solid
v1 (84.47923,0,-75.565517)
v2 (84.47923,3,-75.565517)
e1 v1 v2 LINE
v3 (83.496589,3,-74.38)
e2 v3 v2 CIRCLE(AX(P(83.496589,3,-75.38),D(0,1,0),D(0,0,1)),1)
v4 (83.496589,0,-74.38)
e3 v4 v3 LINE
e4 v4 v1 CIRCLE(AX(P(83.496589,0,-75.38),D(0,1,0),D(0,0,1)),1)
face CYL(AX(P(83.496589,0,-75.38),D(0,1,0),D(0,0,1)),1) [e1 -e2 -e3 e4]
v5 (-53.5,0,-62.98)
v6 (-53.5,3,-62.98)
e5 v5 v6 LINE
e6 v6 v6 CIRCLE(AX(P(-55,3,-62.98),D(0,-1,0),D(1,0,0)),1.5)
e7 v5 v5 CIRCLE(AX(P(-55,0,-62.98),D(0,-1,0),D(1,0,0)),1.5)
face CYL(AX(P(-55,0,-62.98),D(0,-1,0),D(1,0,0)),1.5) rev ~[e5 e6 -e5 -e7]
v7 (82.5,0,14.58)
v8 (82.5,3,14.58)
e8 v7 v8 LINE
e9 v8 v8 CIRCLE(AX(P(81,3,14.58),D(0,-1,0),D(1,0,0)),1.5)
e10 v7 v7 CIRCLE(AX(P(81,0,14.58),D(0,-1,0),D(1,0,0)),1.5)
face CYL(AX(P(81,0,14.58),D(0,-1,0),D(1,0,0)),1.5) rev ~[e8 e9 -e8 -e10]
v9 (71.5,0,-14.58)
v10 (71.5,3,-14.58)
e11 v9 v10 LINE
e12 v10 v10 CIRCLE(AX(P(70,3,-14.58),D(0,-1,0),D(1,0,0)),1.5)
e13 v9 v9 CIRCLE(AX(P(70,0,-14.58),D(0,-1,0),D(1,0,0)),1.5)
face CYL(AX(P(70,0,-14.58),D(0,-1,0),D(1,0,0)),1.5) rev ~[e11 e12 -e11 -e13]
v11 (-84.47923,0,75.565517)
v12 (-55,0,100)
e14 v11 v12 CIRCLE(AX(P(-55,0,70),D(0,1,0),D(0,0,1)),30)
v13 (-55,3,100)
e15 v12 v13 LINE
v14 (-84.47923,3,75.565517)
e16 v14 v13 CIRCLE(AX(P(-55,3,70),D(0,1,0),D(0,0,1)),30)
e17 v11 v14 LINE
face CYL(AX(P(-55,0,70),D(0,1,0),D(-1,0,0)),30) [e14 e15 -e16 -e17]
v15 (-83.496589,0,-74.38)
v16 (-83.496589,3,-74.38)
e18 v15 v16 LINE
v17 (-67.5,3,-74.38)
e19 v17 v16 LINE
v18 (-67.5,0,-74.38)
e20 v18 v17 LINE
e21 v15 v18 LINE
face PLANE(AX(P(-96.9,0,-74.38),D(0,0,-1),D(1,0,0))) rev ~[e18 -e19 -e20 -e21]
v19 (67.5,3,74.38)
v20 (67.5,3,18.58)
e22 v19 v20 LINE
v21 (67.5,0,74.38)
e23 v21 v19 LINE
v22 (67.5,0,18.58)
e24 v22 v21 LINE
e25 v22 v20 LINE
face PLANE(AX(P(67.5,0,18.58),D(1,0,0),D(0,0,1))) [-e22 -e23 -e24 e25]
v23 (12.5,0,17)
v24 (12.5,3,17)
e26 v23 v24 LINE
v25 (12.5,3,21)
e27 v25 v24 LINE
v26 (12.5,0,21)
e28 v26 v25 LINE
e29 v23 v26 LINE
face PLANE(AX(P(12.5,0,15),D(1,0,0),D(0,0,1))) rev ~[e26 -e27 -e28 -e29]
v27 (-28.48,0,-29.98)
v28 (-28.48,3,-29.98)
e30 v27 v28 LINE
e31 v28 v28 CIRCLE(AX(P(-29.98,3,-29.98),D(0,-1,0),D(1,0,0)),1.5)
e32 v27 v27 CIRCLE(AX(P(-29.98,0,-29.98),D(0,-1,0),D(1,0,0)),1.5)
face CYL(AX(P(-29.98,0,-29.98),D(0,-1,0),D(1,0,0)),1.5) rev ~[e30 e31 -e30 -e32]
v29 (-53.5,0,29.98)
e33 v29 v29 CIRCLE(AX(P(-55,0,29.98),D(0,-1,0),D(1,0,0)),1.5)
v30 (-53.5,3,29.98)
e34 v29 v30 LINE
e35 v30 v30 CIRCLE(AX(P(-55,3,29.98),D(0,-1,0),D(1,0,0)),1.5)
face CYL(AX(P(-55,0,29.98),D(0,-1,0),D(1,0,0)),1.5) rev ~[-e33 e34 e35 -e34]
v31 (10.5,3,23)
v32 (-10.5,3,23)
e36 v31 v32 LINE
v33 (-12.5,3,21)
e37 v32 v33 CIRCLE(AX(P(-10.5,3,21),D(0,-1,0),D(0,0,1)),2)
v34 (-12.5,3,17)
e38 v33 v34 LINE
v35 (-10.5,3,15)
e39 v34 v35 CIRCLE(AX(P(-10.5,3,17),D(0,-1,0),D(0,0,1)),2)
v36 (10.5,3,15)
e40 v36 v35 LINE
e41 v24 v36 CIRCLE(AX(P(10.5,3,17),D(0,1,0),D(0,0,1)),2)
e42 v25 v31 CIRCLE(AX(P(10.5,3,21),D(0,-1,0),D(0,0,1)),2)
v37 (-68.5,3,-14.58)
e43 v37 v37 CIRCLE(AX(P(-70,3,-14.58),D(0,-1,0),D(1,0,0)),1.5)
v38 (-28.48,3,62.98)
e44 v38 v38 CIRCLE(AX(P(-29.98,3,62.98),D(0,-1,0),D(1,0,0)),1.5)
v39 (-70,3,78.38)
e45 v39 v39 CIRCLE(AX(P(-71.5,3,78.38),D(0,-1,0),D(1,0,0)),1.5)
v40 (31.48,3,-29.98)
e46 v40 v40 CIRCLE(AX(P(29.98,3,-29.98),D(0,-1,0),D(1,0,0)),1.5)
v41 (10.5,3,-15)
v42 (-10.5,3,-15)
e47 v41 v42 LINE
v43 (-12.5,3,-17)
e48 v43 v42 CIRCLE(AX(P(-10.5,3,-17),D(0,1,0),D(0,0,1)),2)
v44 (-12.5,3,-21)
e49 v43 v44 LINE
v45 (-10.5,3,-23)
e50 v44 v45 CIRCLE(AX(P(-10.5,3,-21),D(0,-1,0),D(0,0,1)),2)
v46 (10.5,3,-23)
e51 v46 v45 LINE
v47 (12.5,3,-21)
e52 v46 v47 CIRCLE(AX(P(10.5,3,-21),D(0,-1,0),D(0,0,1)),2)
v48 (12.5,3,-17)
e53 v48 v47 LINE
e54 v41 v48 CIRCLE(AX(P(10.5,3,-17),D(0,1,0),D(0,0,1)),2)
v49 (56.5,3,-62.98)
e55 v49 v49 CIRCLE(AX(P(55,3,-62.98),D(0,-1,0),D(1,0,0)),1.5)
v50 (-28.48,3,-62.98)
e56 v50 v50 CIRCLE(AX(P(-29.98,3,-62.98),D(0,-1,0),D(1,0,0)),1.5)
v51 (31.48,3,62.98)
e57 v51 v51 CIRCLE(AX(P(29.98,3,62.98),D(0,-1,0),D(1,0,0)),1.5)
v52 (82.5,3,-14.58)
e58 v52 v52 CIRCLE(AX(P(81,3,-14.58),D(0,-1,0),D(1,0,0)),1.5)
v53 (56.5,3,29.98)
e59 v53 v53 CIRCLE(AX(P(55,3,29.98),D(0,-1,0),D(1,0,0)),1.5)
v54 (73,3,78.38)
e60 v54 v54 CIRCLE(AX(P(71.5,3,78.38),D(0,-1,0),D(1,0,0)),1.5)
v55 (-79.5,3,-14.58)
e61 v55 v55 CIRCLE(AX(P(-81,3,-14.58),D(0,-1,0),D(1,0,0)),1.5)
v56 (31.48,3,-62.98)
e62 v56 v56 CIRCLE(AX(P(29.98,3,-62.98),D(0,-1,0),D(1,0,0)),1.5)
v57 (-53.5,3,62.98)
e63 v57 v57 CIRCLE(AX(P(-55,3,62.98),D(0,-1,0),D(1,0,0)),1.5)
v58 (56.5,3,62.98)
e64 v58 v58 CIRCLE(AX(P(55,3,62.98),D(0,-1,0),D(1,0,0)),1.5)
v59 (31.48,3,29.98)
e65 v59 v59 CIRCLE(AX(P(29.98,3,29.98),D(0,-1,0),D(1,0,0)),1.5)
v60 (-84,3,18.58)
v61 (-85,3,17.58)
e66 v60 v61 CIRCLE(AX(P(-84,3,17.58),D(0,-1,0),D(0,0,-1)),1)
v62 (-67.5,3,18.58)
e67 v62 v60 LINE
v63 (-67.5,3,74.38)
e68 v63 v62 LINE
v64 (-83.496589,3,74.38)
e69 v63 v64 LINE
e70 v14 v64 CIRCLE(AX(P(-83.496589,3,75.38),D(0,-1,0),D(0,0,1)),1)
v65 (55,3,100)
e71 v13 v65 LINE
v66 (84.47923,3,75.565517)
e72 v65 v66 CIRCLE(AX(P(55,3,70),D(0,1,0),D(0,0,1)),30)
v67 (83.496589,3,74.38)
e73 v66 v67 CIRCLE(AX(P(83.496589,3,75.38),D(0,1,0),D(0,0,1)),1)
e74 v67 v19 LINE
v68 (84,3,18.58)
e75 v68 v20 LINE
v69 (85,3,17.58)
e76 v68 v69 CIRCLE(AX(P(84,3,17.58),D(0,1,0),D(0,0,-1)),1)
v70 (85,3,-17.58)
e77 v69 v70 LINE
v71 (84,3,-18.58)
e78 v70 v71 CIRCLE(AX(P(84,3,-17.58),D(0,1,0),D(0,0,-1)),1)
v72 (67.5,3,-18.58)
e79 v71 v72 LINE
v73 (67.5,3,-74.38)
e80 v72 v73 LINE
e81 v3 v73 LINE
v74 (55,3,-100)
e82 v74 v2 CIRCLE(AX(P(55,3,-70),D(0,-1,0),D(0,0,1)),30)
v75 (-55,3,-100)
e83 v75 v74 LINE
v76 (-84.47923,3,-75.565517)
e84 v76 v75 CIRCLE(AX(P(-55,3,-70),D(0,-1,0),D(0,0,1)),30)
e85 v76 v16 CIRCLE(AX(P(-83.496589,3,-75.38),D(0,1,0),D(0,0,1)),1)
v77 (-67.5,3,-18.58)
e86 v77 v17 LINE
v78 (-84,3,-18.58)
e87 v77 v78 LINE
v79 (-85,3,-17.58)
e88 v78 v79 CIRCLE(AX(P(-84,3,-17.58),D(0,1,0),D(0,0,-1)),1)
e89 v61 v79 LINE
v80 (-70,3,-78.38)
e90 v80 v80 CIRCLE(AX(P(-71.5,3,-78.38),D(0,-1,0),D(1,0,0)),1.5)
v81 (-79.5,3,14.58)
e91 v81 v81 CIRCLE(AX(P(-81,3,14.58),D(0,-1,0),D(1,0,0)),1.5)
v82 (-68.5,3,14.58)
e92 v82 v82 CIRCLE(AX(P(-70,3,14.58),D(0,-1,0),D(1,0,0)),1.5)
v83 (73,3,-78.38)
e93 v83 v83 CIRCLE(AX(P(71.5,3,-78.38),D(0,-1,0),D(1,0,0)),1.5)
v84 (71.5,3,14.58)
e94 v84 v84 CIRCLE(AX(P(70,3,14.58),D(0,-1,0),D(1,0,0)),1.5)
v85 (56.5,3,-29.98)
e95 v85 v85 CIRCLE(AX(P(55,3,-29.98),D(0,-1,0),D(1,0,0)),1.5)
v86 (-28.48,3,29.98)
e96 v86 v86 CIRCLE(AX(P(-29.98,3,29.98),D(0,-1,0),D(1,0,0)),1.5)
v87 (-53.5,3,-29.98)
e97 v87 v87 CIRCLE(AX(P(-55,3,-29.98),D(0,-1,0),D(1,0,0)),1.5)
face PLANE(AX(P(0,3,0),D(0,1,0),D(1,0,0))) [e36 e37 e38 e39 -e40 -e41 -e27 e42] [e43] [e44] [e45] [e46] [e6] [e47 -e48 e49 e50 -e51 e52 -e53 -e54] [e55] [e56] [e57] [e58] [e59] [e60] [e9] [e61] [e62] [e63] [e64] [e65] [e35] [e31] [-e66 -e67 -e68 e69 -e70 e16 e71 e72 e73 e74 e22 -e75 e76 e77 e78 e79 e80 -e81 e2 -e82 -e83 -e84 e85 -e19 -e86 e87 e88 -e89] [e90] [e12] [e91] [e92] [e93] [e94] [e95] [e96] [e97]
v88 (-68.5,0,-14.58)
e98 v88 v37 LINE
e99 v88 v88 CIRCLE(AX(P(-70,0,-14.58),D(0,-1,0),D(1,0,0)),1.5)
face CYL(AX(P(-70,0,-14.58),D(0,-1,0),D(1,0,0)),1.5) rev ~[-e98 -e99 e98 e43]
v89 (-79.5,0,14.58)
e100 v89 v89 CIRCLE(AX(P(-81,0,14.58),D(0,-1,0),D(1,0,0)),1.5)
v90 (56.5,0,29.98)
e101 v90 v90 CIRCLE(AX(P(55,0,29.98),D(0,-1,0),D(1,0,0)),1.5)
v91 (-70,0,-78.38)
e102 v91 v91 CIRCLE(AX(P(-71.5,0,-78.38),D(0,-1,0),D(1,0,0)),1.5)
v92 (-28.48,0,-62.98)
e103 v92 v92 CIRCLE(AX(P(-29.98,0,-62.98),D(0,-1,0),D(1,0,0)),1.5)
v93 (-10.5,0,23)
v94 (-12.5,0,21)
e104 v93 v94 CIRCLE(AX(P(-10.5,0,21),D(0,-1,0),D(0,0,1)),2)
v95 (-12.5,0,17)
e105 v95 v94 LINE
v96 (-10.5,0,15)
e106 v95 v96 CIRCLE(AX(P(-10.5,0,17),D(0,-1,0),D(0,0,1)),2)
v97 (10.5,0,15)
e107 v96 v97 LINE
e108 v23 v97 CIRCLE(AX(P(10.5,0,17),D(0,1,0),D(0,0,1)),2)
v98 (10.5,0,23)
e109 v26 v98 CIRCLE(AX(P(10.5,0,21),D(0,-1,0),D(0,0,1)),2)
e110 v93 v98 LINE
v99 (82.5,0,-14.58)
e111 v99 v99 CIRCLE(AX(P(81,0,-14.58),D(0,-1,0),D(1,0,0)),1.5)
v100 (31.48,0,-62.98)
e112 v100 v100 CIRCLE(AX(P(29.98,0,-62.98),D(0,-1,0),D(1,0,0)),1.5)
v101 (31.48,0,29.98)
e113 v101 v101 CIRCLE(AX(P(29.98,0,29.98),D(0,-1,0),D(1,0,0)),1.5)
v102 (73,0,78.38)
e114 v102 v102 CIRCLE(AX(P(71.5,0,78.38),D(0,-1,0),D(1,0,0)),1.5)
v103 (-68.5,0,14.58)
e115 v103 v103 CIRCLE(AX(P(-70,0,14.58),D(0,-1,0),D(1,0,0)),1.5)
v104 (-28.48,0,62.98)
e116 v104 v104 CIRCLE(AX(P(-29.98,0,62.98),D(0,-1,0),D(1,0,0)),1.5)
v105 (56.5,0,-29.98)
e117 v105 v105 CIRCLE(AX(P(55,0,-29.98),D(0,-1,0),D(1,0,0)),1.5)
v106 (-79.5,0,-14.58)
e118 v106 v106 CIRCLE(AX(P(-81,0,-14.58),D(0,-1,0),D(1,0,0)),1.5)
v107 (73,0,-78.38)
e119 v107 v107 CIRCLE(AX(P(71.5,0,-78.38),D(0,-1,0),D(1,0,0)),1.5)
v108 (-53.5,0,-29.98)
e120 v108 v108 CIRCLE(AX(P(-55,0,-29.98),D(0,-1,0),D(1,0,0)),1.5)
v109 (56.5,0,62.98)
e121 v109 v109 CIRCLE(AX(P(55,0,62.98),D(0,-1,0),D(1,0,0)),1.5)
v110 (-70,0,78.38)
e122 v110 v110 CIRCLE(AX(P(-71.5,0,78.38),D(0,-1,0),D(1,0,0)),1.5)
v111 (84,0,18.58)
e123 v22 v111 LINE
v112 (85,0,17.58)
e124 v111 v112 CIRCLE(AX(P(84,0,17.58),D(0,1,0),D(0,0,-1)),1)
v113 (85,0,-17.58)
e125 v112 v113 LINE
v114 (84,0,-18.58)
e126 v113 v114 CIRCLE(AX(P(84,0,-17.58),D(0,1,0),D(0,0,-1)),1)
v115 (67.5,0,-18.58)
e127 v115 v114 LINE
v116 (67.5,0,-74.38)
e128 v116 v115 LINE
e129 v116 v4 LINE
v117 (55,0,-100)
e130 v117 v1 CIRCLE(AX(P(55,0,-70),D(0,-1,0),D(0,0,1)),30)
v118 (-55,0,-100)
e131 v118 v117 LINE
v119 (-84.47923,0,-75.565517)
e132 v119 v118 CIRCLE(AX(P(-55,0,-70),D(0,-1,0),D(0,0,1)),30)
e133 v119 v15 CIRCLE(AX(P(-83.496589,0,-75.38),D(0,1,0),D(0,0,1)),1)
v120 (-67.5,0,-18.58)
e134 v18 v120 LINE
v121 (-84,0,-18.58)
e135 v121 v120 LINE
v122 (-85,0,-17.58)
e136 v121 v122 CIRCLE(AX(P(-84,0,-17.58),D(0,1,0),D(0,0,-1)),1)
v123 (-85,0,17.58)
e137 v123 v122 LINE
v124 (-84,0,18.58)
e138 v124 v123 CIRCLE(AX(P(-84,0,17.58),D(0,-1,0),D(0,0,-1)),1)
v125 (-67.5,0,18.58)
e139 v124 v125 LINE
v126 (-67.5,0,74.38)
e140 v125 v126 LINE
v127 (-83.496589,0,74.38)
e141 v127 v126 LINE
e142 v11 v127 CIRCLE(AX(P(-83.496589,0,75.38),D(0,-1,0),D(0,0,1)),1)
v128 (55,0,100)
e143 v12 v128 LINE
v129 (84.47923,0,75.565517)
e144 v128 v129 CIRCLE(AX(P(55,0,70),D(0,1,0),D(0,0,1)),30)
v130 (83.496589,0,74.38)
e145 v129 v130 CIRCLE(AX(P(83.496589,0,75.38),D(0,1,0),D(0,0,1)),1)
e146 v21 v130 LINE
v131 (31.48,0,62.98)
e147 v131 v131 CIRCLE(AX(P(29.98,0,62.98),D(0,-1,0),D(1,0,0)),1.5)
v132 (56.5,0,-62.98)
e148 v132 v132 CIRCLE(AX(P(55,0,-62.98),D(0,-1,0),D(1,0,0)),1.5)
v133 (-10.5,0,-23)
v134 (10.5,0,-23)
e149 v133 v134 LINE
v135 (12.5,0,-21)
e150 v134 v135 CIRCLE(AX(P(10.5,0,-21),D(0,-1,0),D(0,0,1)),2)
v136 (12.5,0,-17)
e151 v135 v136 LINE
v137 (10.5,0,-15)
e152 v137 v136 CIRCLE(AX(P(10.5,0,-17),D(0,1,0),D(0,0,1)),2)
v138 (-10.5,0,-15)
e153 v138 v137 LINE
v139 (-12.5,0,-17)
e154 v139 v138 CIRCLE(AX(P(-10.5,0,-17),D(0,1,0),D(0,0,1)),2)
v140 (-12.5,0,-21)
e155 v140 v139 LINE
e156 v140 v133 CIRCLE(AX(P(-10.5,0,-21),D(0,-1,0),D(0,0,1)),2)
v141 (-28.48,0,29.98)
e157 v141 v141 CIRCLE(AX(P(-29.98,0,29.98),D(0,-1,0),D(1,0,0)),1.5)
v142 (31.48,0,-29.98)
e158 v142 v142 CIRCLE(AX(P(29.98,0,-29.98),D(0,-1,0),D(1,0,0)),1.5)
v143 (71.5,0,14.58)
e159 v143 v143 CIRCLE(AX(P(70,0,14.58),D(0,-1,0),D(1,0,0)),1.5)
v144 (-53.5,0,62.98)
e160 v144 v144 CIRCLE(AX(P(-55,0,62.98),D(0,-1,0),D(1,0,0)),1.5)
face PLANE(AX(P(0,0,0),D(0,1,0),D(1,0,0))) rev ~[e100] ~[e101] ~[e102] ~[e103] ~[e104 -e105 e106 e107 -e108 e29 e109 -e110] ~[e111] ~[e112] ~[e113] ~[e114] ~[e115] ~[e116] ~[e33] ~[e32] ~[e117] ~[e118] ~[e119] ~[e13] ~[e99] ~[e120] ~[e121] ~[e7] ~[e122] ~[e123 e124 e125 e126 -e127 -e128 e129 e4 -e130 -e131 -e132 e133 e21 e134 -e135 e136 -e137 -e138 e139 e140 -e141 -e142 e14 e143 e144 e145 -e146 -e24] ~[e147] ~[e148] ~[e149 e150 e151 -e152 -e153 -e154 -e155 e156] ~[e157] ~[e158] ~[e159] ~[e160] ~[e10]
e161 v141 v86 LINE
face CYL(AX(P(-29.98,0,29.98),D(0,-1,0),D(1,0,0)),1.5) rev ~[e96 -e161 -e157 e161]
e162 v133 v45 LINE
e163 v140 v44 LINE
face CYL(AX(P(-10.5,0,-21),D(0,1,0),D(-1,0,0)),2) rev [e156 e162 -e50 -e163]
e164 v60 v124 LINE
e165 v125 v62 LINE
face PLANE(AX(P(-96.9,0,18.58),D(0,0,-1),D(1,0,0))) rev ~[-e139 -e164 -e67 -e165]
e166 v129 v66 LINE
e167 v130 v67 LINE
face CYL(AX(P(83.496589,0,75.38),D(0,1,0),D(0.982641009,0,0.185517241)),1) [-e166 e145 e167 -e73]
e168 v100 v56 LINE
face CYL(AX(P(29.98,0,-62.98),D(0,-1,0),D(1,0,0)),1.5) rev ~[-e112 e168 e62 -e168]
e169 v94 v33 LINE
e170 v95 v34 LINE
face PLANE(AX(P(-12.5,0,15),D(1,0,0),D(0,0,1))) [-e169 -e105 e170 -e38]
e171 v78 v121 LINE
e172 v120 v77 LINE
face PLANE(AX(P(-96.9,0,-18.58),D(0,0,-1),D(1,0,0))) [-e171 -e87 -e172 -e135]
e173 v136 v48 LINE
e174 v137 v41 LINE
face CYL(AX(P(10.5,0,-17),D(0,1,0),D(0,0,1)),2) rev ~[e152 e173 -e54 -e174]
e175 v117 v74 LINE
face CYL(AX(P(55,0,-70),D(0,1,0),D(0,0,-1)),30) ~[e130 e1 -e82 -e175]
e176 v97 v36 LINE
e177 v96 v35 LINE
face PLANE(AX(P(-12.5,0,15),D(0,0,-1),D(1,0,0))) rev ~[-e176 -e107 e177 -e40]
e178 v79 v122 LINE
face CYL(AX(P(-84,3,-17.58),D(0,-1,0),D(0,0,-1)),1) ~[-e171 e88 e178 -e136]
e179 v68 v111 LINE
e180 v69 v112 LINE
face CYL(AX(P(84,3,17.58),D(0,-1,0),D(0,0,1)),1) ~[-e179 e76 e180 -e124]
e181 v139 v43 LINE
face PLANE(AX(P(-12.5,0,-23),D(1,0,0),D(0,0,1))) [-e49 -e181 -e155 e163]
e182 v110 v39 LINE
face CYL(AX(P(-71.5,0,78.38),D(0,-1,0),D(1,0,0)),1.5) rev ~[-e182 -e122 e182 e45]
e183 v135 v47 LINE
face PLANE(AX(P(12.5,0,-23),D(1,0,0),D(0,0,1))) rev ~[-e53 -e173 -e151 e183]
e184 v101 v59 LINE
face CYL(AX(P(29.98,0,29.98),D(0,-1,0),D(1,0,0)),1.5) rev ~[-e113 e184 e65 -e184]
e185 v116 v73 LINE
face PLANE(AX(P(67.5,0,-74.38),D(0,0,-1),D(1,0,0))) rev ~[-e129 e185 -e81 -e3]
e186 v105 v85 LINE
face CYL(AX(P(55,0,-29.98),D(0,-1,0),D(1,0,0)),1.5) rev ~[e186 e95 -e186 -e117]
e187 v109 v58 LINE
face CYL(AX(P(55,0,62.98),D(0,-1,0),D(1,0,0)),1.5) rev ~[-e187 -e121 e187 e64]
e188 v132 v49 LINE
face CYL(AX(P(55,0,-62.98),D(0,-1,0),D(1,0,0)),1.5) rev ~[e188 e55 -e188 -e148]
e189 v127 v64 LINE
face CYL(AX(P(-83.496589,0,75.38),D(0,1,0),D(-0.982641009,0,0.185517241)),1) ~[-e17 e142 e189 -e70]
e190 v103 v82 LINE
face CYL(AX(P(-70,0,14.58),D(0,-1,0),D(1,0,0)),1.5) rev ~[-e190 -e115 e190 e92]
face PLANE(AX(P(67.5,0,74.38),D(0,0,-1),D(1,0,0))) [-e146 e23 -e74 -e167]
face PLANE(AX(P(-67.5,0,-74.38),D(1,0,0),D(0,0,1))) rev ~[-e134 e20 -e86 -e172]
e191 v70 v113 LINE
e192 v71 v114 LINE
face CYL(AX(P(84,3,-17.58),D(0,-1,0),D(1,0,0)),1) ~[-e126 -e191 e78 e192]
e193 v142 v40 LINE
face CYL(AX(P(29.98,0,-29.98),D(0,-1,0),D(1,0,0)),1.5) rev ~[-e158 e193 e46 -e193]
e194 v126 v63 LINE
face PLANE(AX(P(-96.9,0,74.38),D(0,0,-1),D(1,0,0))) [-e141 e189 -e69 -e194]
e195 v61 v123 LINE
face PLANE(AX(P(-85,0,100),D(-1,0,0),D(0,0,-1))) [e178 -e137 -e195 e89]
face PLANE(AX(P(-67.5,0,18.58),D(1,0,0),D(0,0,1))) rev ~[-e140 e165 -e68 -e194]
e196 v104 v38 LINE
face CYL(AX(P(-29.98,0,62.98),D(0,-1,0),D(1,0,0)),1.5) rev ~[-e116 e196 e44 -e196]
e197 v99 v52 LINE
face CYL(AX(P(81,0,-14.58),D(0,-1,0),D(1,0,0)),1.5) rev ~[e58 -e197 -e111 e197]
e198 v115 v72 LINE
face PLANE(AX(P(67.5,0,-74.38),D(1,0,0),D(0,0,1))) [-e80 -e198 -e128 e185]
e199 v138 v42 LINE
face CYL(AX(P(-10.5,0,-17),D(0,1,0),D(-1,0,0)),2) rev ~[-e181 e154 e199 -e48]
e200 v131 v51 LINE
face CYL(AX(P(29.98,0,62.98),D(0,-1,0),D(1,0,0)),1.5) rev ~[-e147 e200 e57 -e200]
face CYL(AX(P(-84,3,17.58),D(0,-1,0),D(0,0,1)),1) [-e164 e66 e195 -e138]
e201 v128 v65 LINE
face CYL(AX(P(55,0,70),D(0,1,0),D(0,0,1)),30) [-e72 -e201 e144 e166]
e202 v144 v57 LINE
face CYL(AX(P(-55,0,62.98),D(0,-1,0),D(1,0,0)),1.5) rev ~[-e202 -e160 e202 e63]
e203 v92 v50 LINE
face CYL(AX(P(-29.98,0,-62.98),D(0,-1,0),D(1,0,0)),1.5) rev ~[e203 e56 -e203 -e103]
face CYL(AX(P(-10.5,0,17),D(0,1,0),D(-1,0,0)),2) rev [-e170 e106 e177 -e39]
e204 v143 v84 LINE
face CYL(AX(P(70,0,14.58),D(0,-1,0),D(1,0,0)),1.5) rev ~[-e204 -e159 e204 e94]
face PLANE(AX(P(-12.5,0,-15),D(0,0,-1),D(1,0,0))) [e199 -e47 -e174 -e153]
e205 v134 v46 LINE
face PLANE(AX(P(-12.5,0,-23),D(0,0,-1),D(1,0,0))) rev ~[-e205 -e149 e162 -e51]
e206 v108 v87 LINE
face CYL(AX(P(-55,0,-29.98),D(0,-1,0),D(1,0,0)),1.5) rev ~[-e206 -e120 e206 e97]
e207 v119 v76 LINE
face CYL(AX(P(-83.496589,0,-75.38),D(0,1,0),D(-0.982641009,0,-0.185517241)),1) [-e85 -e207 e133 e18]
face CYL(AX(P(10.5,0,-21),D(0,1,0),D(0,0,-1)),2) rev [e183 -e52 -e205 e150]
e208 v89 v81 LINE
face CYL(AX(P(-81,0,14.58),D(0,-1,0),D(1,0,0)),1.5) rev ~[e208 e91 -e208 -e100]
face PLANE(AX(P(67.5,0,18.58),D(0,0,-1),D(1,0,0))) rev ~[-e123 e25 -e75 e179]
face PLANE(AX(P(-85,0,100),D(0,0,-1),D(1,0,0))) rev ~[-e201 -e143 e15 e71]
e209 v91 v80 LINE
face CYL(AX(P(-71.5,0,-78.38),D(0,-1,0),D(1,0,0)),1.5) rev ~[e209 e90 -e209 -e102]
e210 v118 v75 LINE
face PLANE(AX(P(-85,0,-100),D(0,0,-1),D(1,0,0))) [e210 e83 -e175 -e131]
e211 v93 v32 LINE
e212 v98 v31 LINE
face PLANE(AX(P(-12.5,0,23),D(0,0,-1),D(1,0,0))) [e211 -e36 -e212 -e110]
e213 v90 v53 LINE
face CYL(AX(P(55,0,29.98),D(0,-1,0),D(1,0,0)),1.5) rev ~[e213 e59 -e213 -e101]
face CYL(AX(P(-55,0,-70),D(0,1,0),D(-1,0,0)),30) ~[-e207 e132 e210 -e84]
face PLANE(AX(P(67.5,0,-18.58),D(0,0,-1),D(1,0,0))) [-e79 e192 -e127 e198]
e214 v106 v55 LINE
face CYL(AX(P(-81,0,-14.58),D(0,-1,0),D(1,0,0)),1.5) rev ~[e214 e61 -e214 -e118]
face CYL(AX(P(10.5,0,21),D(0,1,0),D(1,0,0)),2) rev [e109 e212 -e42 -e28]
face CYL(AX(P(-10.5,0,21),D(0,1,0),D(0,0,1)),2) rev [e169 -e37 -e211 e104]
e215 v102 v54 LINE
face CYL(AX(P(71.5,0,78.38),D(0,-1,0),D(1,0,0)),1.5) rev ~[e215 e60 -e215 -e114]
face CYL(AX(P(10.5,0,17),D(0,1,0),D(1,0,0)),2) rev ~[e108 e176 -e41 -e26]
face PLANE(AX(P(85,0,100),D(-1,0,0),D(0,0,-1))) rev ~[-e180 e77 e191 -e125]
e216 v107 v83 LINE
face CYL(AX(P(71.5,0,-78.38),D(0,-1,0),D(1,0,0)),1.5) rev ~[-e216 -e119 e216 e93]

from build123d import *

# Parameters (mm, degrees)
SKETCH1_W           = 170
SKETCH1_H           = 200
BOSS_EXTRUDE1_DEPTH = 3
SKETCH2_R           = 1.5
CUT_EXTRUDE1_DEPTH  = 43
FILLET1_R           = 30
SKETCH4_W           = 29.4
SKETCH4_H           = 55.8
CUT_EXTRUDE4_DEPTH  = 10
FILLET3_R           = 1
FILLET4_R           = 1
FILLET5_R           = 1
FILLET6_R           = 1
FILLET7_R           = 1
FILLET8_R           = 1
FILLET9_R           = 1
FILLET10_R          = 1
SKETCH5_W           = 25
SKETCH5_H           = 8
CUT_EXTRUDE5_DEPTH  = 10
FILLET11_R          = 2
FILLET12_R          = 2
FILLET13_R          = 2
FILLET14_R          = 2
FILLET15_R          = 2
FILLET16_R          = 2
SKETCH6_R           = 1.5
CUT_EXTRUDE6_DEPTH  = 10
SKETCH7_R           = 1.5
CUT_EXTRUDE8_DEPTH  = 10


with BuildPart() as part:
    # Sketch1 → Boss-Extrude1 (new body)
    with BuildSketch(Plane(origin=(0, 0, 0), x_dir=(1, 0, 0), z_dir=(0, 1, 0))):
        Rectangle(SKETCH1_W, SKETCH1_H)
    extrude(amount=BOSS_EXTRUDE1_DEPTH)

    # Sketch2 → Cut-Extrude1 (cut)
    with BuildSketch(Plane.XZ):
        with Locations((-55, 62.98)):
            Circle(SKETCH2_R)
        with Locations((-55, 29.98)):
            Circle(SKETCH2_R)
        with Locations((-29.98, 62.98)):
            Circle(SKETCH2_R)
        with Locations((-29.98, 29.98)):
            Circle(SKETCH2_R)
        with Locations((29.98, 62.98)):
            Circle(SKETCH2_R)
        with Locations((55, 62.98)):
            Circle(SKETCH2_R)
        with Locations((55, 29.98)):
            Circle(SKETCH2_R)
        with Locations((29.98, 29.98)):
            Circle(SKETCH2_R)
        with Locations((29.98, -62.98)):
            Circle(SKETCH2_R)
        with Locations((29.98, -29.98)):
            Circle(SKETCH2_R)
        with Locations((55, -62.98)):
            Circle(SKETCH2_R)
        with Locations((55, -29.98)):
            Circle(SKETCH2_R)
        with Locations((-29.98, -62.98)):
            Circle(SKETCH2_R)
        with Locations((-55, -62.98)):
            Circle(SKETCH2_R)
        with Locations((-55, -29.98)):
            Circle(SKETCH2_R)
        with Locations((-29.98, -29.98)):
            Circle(SKETCH2_R)
    extrude(amount=-CUT_EXTRUDE1_DEPTH, mode=Mode.SUBTRACT)

    # Fillet1
    fillet1_edges = [part.edges().sort_by_distance(p)[0] for p in [
        (85, 1.5, 100),
        (-85, 1.5, 100),
        (-85, 1.5, -100),
        (85, 1.5, -100),
    ]]
    fillet(fillet1_edges, radius=FILLET1_R)

    # Sketch4 → Cut-Extrude4 (cut)
    with BuildSketch(Plane.XZ):
        with Locations((-82.2, 46.48)):
            Rectangle(SKETCH4_W, SKETCH4_H)
        with Locations((82.2, 46.48)):
            Rectangle(SKETCH4_W, SKETCH4_H)
        with Locations((82.2, -46.48)):
            Rectangle(SKETCH4_W, SKETCH4_H)
        with Locations((-82.2, -46.48)):
            Rectangle(SKETCH4_W, SKETCH4_H)
    extrude(amount=-CUT_EXTRUDE4_DEPTH, mode=Mode.SUBTRACT)

    # Fillet3
    fillet3_edges = [part.edges().sort_by_distance(p)[0] for p in [
        (-84.6785377, 1.5, 74.38),
    ]]
    fillet(fillet3_edges, radius=FILLET3_R)

    # Fillet4
    fillet4_edges = [part.edges().sort_by_distance(p)[0] for p in [
        (-85, 1.5, 18.58),
    ]]
    fillet(fillet4_edges, radius=FILLET4_R)

    # Fillet5
    fillet5_edges = [part.edges().sort_by_distance(p)[0] for p in [
        (84.6785377, 1.5, 74.38),
    ]]
    fillet(fillet5_edges, radius=FILLET5_R)

    # Fillet6
    fillet6_edges = [part.edges().sort_by_distance(p)[0] for p in [
        (85, 1.5, 18.58),
    ]]
    fillet(fillet6_edges, radius=FILLET6_R)

    # Fillet7
    fillet7_edges = [part.edges().sort_by_distance(p)[0] for p in [
        (85, 1.5, -18.58),
    ]]
    fillet(fillet7_edges, radius=FILLET7_R)

    # Fillet8
    fillet8_edges = [part.edges().sort_by_distance(p)[0] for p in [
        (84.6785377, 1.5, -74.38),
    ]]
    fillet(fillet8_edges, radius=FILLET8_R)

    # Fillet9
    fillet9_edges = [part.edges().sort_by_distance(p)[0] for p in [
        (-84.6785377, 1.5, -74.38),
    ]]
    fillet(fillet9_edges, radius=FILLET9_R)

    # Fillet10
    fillet10_edges = [part.edges().sort_by_distance(p)[0] for p in [
        (-85, 1.5, -18.58),
    ]]
    fillet(fillet10_edges, radius=FILLET10_R)

    # Sketch5 → Cut-Extrude5 (cut)
    with BuildSketch(Plane.XZ):
        with Locations((0, -19)):
            Rectangle(SKETCH5_W, SKETCH5_H)
        with Locations((0, 19)):
            Rectangle(SKETCH5_W, SKETCH5_H)
    extrude(amount=-CUT_EXTRUDE5_DEPTH, mode=Mode.SUBTRACT)

    # Fillet11
    fillet11_edges = [part.edges().sort_by_distance(p)[0] for p in [
        (-12.5, 1.5, -23),
        (-12.5, 1.5, -15),
        (12.5, 1.5, -15),
    ]]
    fillet(fillet11_edges, radius=FILLET11_R)

    # Fillet12
    fillet12_edges = [part.edges().sort_by_distance(p)[0] for p in [
        (12.5, 1.5, -23),
    ]]
    fillet(fillet12_edges, radius=FILLET12_R)

    # Fillet13
    fillet13_edges = [part.edges().sort_by_distance(p)[0] for p in [
        (12.5, 1.5, 15),
    ]]
    fillet(fillet13_edges, radius=FILLET13_R)

    # Fillet14
    fillet14_edges = [part.edges().sort_by_distance(p)[0] for p in [
        (12.5, 1.5, 23),
    ]]
    fillet(fillet14_edges, radius=FILLET14_R)

    # Fillet15
    fillet15_edges = [part.edges().sort_by_distance(p)[0] for p in [
        (-12.5, 1.5, 23),
    ]]
    fillet(fillet15_edges, radius=FILLET15_R)

    # Fillet16
    fillet16_edges = [part.edges().sort_by_distance(p)[0] for p in [
        (-12.5, 1.5, 15),
    ]]
    fillet(fillet16_edges, radius=FILLET16_R)

    # Sketch6 → Cut-Extrude6 (cut)
    with BuildSketch(Plane.XZ):
        with Locations((-81, -14.58)):
            Circle(SKETCH6_R)
        with Locations((-81, 14.58)):
            Circle(SKETCH6_R)
        with Locations((-70, 14.58)):
            Circle(SKETCH6_R)
        with Locations((-70, -14.58)):
            Circle(SKETCH6_R)
        with Locations((70, -14.58)):
            Circle(SKETCH6_R)
        with Locations((70, 14.58)):
            Circle(SKETCH6_R)
        with Locations((81, 14.58)):
            Circle(SKETCH6_R)
        with Locations((81, -14.58)):
            Circle(SKETCH6_R)
    extrude(amount=-CUT_EXTRUDE6_DEPTH, mode=Mode.SUBTRACT)

    # Sketch7 → Cut-Extrude8 (cut)
    with BuildSketch(Plane.XZ):
        with Locations((-71.5, 78.38)):
            Circle(SKETCH7_R)
        with Locations((71.5, 78.38)):
            Circle(SKETCH7_R)
        with Locations((71.5, -78.38)):
            Circle(SKETCH7_R)
        with Locations((-71.5, -78.38)):
            Circle(SKETCH7_R)
    extrude(amount=-CUT_EXTRUDE8_DEPTH, mode=Mode.SUBTRACT)


solid = part.part
